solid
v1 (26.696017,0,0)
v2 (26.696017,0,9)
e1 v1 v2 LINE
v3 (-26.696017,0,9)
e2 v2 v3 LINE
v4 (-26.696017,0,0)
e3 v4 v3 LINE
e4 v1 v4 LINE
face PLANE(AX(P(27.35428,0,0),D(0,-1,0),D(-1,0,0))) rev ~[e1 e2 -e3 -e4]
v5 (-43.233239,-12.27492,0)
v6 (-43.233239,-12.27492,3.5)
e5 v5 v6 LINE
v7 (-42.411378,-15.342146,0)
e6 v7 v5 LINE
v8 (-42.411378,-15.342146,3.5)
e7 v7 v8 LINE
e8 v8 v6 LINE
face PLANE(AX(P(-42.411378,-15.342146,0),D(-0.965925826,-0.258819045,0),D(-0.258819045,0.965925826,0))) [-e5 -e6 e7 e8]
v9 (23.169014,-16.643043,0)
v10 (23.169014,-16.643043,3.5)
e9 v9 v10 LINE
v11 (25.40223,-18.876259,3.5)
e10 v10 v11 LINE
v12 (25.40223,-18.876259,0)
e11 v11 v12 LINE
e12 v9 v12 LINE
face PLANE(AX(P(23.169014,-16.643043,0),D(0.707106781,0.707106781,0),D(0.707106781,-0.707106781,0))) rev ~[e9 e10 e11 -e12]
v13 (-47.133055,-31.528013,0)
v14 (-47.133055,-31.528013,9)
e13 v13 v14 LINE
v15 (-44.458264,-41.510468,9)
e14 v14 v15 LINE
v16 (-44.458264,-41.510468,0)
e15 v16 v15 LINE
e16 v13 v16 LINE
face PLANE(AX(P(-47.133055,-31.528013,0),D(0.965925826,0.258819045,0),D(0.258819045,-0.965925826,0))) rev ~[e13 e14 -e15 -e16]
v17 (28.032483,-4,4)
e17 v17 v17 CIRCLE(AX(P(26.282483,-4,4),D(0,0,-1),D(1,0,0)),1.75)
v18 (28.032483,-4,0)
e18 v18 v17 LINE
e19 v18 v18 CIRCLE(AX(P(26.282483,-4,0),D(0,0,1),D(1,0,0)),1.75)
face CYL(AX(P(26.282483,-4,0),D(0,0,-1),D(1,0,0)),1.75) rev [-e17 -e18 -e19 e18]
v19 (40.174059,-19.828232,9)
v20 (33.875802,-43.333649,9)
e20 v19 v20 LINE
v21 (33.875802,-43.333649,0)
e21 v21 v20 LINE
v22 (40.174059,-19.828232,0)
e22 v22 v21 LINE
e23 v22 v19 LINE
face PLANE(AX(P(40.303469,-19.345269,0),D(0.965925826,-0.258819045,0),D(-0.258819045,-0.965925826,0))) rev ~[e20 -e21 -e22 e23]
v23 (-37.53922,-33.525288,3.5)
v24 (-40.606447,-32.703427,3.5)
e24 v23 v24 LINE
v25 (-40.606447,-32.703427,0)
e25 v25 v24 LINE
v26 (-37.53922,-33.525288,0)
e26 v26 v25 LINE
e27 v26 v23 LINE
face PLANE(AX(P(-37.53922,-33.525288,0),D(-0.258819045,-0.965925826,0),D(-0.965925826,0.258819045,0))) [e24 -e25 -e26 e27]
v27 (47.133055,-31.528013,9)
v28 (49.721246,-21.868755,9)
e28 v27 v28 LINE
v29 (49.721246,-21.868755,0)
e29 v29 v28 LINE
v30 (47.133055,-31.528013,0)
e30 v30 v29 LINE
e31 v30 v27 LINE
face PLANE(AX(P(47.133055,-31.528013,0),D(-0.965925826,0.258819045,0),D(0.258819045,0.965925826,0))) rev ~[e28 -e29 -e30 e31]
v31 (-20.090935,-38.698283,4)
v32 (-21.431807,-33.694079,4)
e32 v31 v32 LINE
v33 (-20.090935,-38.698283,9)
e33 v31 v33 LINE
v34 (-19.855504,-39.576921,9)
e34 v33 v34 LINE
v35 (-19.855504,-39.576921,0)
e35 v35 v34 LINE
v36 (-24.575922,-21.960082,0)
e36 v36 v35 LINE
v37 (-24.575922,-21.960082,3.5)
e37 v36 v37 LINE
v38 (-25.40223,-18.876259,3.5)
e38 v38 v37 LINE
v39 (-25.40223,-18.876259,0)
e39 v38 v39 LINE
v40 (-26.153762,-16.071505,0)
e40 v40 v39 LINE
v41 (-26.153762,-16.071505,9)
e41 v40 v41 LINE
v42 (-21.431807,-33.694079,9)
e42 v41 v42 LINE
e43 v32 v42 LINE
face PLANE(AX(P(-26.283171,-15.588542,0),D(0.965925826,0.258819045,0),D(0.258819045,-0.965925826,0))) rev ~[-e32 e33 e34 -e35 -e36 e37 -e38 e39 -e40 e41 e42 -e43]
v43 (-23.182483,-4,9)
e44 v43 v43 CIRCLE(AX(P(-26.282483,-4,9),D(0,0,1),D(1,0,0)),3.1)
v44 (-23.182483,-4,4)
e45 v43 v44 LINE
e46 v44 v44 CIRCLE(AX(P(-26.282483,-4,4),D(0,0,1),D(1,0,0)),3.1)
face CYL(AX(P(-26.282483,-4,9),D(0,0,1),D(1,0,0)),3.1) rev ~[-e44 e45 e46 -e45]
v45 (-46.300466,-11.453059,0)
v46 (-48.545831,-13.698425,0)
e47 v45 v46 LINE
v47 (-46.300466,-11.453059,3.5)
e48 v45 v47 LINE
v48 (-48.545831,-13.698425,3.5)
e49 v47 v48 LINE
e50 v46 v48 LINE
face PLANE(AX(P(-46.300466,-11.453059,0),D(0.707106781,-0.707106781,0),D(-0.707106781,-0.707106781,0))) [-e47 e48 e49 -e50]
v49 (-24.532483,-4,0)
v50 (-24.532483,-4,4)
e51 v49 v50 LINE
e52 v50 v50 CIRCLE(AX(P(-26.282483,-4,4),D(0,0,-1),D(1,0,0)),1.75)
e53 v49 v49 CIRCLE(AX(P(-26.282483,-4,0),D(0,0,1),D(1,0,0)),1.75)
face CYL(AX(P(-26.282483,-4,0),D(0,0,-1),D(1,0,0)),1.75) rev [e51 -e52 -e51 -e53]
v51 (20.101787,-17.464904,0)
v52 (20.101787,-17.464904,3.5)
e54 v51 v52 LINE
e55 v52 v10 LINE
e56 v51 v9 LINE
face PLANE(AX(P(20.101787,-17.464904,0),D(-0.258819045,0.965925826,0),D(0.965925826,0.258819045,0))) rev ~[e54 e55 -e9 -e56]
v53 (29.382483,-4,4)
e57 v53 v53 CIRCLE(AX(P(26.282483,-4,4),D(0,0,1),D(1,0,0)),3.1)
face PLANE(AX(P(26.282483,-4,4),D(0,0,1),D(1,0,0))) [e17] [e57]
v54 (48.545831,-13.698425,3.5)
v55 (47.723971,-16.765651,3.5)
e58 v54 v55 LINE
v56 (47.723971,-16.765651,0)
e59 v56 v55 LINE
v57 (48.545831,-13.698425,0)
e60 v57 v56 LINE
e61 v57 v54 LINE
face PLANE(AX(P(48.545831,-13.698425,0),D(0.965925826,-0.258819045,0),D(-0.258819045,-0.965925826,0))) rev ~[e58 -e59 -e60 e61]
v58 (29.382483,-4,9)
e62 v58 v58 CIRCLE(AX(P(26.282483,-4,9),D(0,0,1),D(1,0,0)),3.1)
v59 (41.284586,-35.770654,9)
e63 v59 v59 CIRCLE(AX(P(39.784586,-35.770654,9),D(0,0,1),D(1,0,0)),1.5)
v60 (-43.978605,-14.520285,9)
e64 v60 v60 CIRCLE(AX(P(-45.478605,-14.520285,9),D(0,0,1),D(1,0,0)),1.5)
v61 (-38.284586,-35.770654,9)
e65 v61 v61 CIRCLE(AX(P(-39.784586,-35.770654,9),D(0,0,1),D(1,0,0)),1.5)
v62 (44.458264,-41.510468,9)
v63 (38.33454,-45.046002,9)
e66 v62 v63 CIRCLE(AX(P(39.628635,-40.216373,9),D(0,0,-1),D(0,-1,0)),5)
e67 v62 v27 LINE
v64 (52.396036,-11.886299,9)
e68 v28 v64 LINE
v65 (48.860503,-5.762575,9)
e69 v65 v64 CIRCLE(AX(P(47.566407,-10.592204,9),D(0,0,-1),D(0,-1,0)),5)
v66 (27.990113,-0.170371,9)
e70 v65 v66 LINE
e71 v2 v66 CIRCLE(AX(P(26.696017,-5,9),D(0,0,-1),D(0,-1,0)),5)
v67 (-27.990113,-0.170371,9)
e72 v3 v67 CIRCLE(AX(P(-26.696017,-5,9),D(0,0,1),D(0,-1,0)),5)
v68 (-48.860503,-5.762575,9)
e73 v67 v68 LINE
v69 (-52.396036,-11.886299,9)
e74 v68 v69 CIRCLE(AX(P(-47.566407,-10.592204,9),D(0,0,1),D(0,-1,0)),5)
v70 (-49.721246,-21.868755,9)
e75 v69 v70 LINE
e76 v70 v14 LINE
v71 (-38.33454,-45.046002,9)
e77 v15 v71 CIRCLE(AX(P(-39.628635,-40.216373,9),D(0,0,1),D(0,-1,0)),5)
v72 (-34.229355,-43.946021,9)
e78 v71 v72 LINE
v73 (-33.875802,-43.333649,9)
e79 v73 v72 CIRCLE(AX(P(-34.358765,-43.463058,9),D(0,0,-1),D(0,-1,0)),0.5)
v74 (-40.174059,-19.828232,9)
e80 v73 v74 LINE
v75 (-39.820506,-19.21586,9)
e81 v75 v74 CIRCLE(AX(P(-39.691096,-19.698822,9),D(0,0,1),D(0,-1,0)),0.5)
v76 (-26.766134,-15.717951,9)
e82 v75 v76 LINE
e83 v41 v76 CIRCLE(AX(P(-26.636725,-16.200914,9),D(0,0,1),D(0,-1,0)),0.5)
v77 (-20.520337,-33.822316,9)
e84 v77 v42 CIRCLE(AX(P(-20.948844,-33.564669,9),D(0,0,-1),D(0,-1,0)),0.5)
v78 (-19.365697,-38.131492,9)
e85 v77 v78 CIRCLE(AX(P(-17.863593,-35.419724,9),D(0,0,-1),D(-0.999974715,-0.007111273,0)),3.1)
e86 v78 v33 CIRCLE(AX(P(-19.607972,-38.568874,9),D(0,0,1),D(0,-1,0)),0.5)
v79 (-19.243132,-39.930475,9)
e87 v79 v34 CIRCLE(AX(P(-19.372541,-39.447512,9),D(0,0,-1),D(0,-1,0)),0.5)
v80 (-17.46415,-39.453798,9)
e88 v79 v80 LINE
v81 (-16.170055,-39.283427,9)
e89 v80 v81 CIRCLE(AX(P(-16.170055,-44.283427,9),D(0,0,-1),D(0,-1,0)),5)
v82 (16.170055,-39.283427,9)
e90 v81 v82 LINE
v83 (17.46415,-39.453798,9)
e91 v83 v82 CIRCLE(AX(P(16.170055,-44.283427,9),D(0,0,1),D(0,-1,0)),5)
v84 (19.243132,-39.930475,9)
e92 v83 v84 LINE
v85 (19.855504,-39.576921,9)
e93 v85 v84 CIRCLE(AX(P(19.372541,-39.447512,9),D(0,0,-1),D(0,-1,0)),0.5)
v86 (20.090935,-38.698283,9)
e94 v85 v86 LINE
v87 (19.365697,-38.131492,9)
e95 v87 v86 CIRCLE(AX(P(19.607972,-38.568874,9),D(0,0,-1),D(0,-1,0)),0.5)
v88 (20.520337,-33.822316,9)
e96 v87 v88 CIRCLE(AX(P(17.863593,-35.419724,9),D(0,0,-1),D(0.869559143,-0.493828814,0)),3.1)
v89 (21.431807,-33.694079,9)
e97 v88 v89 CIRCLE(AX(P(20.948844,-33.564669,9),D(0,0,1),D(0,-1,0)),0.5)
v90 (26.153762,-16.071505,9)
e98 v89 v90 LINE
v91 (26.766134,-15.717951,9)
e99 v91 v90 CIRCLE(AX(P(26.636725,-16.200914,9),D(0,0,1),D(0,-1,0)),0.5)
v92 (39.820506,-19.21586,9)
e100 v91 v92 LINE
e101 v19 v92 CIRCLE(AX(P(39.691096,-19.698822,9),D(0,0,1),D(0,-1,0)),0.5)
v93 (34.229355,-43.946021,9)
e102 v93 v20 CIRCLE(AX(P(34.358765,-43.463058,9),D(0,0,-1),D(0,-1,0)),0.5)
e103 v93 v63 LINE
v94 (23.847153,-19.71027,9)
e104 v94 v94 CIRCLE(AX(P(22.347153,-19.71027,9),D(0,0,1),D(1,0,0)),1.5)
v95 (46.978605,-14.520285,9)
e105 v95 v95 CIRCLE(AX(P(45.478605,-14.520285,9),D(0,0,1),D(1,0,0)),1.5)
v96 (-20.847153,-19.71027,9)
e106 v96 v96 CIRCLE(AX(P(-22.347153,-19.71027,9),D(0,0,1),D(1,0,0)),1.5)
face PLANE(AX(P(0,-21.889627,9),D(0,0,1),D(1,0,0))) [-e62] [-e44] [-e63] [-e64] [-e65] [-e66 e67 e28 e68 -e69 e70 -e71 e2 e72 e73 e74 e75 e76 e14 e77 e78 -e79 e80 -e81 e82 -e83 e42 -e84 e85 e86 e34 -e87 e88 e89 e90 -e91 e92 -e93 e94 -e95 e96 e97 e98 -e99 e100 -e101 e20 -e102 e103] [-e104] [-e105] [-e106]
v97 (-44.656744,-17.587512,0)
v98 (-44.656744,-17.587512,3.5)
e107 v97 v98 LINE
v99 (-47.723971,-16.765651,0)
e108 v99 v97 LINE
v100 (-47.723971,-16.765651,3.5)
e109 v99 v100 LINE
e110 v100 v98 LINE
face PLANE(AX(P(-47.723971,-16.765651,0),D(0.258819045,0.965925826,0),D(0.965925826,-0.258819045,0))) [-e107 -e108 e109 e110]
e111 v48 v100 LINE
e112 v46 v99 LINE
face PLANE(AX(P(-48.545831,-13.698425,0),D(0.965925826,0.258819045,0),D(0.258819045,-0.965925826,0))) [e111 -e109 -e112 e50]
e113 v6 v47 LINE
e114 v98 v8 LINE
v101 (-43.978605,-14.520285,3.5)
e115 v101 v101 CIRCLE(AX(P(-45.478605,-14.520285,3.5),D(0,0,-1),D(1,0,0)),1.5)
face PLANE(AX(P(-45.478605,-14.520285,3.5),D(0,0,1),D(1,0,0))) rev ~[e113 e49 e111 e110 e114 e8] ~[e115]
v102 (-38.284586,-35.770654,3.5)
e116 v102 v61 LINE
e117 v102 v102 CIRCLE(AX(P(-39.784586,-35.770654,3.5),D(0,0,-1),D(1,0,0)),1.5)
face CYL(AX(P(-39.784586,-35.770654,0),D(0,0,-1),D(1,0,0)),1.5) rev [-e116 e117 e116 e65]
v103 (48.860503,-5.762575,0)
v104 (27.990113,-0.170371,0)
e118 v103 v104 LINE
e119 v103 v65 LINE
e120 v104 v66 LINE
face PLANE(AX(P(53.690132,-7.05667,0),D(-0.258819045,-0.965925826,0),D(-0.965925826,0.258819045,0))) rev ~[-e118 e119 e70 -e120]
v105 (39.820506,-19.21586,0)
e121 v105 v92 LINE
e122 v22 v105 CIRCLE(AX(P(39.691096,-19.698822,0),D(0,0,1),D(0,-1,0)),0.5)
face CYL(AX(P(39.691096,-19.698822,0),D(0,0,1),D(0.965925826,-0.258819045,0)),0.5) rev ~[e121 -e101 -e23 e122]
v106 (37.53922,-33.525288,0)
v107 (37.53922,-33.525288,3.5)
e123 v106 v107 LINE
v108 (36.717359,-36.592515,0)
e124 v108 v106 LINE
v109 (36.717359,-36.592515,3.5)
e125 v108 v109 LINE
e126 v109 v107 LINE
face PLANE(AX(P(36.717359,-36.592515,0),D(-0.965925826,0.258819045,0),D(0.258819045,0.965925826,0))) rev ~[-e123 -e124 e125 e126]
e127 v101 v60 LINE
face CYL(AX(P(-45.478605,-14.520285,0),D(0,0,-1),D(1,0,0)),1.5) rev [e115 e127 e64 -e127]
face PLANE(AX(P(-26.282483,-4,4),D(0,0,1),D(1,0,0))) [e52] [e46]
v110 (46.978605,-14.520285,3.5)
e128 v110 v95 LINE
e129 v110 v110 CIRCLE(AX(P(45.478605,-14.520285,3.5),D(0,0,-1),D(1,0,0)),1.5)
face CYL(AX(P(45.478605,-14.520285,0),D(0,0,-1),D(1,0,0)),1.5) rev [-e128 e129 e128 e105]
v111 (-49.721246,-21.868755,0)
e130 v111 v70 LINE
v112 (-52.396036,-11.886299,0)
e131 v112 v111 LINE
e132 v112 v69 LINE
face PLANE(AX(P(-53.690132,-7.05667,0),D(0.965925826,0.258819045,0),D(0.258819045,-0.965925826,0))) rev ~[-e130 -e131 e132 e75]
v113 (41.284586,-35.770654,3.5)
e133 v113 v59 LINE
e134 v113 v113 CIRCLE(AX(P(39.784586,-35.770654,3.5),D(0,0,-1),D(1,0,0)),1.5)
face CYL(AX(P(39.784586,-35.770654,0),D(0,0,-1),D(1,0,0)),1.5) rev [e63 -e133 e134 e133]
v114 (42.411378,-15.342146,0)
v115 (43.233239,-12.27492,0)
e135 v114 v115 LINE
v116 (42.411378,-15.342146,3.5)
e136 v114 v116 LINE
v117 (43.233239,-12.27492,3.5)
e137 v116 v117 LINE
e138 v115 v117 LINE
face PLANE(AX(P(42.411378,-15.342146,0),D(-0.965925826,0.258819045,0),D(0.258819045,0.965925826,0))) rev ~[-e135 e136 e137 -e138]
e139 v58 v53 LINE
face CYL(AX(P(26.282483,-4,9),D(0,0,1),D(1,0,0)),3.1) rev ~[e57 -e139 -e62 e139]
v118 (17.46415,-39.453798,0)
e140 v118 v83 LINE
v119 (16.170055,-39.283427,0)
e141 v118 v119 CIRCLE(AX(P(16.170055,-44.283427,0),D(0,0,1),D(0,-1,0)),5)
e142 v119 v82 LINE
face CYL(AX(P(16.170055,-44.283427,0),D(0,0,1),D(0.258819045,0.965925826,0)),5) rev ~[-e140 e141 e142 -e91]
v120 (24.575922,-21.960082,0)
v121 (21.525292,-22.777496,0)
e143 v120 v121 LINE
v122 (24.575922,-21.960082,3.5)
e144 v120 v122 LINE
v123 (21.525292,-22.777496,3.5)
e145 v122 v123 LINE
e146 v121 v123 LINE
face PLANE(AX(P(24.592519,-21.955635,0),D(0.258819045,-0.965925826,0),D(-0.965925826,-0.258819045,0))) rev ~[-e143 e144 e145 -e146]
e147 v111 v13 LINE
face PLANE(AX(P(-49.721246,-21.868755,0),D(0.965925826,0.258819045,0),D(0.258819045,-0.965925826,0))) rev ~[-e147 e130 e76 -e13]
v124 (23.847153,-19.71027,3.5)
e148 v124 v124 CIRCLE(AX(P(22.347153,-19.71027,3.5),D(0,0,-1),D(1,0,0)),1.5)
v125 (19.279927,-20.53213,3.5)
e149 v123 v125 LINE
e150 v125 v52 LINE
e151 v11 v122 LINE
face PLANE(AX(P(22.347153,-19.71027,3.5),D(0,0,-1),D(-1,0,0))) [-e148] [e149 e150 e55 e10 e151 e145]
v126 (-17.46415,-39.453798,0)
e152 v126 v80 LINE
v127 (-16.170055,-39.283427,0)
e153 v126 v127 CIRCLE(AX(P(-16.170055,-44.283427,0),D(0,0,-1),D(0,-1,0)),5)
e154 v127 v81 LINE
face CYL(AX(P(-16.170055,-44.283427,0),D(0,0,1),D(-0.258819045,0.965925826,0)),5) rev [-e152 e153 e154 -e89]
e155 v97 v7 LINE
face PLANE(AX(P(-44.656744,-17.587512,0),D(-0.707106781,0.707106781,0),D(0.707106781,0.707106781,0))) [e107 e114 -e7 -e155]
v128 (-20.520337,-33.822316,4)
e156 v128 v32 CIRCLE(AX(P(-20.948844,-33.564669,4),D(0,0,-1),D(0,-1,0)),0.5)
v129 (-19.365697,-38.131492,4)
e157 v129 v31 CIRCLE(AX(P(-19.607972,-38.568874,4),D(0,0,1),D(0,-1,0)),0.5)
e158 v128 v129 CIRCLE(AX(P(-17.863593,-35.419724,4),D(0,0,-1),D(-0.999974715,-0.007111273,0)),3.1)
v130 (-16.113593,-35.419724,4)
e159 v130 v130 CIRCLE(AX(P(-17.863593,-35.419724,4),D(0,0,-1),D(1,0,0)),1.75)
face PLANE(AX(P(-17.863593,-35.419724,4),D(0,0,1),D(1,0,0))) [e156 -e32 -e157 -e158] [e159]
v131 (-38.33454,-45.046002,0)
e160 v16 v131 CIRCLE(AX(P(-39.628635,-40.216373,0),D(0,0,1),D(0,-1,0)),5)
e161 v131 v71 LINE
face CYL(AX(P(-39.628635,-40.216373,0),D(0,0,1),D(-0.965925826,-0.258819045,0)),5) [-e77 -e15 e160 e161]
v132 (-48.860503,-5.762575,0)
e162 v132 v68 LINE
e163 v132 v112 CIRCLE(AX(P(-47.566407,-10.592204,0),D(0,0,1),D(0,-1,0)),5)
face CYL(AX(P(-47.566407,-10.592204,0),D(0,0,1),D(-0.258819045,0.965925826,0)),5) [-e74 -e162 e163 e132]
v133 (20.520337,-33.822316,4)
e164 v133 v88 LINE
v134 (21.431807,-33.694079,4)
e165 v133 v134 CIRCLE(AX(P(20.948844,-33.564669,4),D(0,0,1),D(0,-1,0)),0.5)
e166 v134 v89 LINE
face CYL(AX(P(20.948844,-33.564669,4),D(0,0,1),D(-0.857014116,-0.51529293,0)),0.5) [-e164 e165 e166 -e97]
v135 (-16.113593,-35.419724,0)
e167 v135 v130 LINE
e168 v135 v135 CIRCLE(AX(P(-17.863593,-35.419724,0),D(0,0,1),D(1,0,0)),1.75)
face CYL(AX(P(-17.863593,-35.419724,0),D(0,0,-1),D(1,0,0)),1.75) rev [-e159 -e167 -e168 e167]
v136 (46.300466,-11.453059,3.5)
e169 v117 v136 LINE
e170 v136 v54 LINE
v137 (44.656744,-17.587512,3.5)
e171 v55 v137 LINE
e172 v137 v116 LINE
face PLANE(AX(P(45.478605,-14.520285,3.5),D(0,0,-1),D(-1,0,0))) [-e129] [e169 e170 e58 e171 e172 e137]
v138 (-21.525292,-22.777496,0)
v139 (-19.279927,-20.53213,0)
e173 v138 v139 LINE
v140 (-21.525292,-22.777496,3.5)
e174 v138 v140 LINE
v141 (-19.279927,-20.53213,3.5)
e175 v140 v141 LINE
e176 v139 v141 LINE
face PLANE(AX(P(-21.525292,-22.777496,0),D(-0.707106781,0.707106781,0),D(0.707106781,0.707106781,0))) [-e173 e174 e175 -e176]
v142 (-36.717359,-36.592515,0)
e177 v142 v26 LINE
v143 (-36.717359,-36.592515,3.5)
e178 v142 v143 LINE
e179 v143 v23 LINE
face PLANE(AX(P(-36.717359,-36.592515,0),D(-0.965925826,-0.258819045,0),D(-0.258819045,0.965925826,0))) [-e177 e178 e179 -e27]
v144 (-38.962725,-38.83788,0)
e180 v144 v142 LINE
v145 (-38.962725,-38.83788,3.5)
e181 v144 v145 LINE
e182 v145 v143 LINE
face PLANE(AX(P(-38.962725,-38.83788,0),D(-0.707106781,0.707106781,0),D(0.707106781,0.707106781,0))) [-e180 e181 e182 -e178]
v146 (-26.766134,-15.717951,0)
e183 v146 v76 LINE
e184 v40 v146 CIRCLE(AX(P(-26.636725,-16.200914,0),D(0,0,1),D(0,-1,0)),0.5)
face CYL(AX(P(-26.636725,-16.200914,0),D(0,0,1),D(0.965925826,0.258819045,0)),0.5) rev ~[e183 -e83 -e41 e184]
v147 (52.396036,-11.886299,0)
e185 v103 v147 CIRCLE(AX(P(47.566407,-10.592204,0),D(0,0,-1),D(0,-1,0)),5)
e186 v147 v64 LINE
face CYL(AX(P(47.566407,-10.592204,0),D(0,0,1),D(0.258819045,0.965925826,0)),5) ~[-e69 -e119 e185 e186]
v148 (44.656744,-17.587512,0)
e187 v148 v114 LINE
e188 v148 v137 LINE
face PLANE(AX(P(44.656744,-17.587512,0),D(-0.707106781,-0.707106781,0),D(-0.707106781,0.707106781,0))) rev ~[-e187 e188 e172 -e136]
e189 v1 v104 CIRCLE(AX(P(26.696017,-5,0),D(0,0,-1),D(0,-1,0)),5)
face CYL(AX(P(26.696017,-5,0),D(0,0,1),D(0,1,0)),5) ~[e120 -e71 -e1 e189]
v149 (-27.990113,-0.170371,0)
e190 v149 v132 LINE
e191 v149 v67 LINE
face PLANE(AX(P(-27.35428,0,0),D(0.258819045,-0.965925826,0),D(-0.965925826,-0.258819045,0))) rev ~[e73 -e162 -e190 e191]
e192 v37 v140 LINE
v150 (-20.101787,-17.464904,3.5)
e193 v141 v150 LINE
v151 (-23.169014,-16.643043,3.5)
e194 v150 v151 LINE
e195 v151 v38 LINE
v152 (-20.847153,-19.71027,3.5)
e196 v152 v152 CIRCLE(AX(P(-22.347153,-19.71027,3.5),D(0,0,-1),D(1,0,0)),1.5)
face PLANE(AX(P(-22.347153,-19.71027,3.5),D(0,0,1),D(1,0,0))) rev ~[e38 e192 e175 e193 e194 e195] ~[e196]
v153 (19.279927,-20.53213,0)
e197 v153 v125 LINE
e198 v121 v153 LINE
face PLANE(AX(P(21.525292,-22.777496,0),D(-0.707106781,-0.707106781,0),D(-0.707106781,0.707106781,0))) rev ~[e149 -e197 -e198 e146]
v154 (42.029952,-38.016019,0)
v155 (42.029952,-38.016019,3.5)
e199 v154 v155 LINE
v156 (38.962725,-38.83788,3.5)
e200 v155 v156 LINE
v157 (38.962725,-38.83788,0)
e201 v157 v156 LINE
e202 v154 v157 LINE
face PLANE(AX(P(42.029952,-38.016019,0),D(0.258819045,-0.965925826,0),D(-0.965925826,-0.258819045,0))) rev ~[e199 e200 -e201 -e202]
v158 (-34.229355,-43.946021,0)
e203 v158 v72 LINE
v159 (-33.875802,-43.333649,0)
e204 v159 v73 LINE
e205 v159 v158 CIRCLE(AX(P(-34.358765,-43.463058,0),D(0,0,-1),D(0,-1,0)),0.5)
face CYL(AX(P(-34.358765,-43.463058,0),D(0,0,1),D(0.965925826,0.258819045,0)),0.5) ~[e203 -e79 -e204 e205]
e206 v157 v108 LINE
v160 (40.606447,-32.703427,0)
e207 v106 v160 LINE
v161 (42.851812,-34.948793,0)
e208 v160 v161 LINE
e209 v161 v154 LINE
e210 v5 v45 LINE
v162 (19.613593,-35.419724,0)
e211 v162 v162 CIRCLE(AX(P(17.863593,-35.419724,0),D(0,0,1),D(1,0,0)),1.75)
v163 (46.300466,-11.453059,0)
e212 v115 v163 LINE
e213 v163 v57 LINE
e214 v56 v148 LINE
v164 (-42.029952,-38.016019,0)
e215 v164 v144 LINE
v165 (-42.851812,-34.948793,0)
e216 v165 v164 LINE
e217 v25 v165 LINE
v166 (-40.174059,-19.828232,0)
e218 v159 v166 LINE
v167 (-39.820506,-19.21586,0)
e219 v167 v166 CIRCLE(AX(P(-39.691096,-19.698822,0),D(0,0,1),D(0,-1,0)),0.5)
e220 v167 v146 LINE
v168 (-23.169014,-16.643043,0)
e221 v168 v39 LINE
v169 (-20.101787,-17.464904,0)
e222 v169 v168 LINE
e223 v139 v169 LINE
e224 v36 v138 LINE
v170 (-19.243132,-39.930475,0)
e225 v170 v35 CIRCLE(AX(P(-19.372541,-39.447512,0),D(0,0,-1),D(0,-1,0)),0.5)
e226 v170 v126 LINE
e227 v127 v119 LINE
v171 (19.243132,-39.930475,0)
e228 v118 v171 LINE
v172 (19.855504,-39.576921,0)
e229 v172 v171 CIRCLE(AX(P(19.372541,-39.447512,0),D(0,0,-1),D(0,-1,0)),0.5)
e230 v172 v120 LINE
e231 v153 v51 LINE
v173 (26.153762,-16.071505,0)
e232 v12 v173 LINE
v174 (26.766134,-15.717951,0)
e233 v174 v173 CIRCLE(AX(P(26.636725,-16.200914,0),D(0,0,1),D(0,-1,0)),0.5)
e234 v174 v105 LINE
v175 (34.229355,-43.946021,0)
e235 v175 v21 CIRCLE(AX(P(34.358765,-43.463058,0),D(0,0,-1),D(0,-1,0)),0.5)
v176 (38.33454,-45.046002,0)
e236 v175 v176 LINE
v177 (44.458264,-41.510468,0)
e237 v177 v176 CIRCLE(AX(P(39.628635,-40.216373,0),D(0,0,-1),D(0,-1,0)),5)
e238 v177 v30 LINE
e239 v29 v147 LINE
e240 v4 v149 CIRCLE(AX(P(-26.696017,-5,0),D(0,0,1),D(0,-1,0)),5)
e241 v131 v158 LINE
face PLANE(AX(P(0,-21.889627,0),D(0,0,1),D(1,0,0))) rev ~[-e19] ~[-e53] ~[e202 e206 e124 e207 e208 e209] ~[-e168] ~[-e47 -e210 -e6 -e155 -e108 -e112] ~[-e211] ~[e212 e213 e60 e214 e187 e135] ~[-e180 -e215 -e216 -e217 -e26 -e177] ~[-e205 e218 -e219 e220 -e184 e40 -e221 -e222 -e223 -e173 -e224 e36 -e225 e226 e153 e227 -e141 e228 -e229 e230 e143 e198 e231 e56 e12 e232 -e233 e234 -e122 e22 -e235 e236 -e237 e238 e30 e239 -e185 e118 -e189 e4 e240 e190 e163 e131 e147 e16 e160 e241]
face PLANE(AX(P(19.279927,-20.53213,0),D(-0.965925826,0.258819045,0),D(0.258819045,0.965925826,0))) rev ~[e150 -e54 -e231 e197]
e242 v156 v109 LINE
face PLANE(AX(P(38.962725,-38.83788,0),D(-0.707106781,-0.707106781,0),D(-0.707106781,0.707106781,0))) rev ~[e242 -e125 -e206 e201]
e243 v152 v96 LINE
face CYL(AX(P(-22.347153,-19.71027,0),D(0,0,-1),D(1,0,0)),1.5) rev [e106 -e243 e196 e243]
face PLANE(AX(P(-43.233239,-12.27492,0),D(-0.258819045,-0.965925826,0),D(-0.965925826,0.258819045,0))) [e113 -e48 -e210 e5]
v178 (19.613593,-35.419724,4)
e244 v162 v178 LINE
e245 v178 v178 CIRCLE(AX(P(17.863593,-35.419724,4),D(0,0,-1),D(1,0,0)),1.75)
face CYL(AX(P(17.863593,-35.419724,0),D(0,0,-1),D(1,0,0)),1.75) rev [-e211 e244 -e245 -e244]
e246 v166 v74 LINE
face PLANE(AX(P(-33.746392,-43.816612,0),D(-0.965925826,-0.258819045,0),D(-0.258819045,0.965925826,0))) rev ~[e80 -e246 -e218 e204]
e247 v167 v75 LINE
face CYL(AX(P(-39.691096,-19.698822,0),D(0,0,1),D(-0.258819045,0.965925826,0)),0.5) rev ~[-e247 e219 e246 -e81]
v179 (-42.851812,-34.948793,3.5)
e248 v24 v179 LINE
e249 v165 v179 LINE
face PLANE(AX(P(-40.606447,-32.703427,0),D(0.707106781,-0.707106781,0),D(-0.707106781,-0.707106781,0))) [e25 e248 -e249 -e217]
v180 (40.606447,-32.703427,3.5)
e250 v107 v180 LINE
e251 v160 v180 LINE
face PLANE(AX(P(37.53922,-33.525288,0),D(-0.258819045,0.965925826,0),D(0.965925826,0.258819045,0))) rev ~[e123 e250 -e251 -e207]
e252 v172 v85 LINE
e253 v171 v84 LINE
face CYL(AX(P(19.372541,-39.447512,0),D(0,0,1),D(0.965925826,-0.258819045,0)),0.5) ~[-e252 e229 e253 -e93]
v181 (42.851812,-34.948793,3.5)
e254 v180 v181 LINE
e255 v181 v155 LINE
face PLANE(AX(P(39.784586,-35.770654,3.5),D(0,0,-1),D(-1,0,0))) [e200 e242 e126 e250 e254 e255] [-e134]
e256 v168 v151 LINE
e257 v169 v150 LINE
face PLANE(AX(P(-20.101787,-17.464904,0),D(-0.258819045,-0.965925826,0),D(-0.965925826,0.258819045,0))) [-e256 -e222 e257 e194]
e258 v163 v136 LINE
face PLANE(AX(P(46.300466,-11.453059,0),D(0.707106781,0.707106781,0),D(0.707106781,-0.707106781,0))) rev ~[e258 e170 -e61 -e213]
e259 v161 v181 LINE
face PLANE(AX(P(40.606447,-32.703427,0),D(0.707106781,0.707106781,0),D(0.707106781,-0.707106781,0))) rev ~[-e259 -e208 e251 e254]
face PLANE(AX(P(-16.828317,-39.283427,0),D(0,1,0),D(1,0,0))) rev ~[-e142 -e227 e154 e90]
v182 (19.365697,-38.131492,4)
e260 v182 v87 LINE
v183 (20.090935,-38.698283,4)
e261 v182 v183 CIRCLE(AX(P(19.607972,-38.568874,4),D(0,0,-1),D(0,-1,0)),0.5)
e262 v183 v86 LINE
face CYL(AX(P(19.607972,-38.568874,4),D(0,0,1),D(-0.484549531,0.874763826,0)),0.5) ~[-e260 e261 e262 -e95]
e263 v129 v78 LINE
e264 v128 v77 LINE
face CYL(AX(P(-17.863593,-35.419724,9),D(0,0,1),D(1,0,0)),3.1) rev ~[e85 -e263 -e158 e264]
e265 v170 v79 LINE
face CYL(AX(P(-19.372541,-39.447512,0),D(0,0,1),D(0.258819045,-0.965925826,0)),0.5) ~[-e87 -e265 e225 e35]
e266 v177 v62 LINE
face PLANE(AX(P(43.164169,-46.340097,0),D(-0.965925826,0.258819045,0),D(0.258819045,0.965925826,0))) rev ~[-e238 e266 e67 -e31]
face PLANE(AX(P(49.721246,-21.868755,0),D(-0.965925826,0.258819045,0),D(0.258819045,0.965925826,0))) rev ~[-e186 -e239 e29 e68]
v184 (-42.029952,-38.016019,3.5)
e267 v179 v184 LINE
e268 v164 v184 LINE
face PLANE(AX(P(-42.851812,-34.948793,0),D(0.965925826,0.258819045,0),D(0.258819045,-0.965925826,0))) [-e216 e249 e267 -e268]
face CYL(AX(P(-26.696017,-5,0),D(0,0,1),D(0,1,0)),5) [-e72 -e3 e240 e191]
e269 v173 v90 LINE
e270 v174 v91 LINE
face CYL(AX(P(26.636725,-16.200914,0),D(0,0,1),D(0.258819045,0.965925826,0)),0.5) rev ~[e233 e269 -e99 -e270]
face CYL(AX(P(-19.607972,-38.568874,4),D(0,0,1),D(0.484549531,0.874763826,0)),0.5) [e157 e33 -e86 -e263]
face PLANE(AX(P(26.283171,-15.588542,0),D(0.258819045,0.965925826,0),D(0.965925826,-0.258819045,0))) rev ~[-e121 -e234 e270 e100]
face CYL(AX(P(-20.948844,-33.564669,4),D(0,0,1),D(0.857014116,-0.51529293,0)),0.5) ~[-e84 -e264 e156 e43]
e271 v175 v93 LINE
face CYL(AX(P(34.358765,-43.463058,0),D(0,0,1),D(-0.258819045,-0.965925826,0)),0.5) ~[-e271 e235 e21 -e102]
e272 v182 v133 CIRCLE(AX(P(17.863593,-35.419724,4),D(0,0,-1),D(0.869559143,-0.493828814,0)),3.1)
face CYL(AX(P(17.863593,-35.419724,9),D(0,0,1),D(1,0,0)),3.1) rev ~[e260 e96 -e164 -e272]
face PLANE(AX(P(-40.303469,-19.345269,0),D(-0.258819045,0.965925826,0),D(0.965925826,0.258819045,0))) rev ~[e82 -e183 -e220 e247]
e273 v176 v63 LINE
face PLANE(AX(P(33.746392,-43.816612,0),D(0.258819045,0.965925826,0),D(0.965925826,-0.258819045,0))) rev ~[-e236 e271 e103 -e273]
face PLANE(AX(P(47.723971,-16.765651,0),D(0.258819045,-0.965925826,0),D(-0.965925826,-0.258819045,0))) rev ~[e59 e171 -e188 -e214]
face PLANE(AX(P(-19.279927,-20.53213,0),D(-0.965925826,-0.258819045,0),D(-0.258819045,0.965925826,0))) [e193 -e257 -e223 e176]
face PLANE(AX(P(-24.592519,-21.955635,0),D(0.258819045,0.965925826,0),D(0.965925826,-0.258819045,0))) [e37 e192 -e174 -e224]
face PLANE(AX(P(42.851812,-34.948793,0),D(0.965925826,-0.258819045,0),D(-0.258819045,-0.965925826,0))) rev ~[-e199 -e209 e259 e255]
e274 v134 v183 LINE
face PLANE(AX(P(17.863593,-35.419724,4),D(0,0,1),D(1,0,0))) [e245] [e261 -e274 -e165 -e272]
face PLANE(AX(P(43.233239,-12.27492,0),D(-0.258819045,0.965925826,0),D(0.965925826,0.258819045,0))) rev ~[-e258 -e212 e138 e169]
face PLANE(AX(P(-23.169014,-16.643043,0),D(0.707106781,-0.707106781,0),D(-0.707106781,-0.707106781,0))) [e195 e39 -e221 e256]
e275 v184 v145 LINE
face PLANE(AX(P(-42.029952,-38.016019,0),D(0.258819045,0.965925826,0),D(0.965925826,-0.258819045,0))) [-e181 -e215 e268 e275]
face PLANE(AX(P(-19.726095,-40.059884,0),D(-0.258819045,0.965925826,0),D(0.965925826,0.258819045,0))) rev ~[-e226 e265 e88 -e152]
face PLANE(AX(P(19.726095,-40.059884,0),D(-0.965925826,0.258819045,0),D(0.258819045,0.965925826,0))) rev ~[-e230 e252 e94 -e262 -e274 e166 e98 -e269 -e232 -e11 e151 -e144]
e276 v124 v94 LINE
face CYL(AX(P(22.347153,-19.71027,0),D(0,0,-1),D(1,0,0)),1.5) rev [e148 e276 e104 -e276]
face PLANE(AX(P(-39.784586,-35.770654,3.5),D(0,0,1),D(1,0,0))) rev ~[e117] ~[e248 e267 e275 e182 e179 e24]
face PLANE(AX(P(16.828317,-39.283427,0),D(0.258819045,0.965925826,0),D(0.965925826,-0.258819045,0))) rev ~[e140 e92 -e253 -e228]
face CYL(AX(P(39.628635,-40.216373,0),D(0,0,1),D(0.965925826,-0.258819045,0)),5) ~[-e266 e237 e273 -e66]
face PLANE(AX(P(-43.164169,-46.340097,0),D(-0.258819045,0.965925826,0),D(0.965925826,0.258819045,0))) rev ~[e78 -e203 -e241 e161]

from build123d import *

# Parameters (mm, degrees)
SKETCH_1_R          = 1.5
SKETCH_1_R_2        = 1.75
EXTRUDE_1_DEPTH     = 9
FILLET_1_R          = 5
CUT_EXTRUDE_1_DEPTH = 3.5
SKETCH_5_R          = 3.1
CUT_EXTRUDE_2_DEPTH = 5
FILLET_2_R          = 0.5


with BuildPart() as part:
    # 草图1 → 凸台-拉伸1 (new body)
    with BuildSketch(Plane.XY):
        Polygon((27.354279807, 0), (-27.354279807, 0), (-53.690131677, -7.056670241), (-49.721245605, -21.868754713), (-47.133055154, -31.528012976), (-43.164169081, -46.340097448), (-33.746392275, -43.816611758), (-40.303468798, -19.345269023), (-26.283171214, -15.588541608), (-19.72609469, -40.059884343), (-16.828317211, -39.283427207), (16.828317211, -39.283427207), (19.72609469, -40.059884343), (26.283171214, -15.588541608), (40.303468798, -19.345269023), (33.746392275, -43.816611758), (43.164169081, -46.340097448), (47.133055154, -31.528012976), (49.721245605, -21.868754713), (53.690131677, -7.056670241), align=None)
        with Locations((-39.784585925, -35.770653663)):
            Circle(SKETCH_1_R, mode=Mode.SUBTRACT)
        with Locations((-17.863593392, -35.419723902)):
            Circle(SKETCH_1_R_2, mode=Mode.SUBTRACT)
        with Locations((17.863593392, -35.419723902)):
            Circle(SKETCH_1_R_2, mode=Mode.SUBTRACT)
        with Locations((39.784585925, -35.770653663)):
            Circle(SKETCH_1_R, mode=Mode.SUBTRACT)
        with Locations((-45.478604918, -14.520285484)):
            Circle(SKETCH_1_R, mode=Mode.SUBTRACT)
        with Locations((-22.347153069, -19.710269626)):
            Circle(SKETCH_1_R, mode=Mode.SUBTRACT)
        with Locations((-26.282483038, -4)):
            Circle(SKETCH_1_R_2, mode=Mode.SUBTRACT)
        with Locations((22.347153069, -19.710269626)):
            Circle(SKETCH_1_R, mode=Mode.SUBTRACT)
        with Locations((45.478604918, -14.520285484)):
            Circle(SKETCH_1_R, mode=Mode.SUBTRACT)
        with Locations((26.282483038, -4)):
            Circle(SKETCH_1_R_2, mode=Mode.SUBTRACT)
    extrude(amount=EXTRUDE_1_DEPTH)

    # 圆角1
    fillet_1_edges = [part.edges().sort_by_distance(p)[0] for p in [
        (16.828317211, -39.283427207, 4.5),
        (-16.828317211, -39.283427207, 4.5),
        (-43.164169081, -46.340097448, 4.5),
        (-53.690131677, -7.056670241, 4.5),
        (-27.354279807, 0, 4.5),
        (27.354279807, 0, 4.5),
        (53.690131677, -7.056670241, 4.5),
        (43.164169081, -46.340097448, 4.5),
    ]]
    fillet(fillet_1_edges, radius=FILLET_1_R)

    # 草图2 → 切除-拉伸1 (cut)
    with BuildSketch(Plane(origin=(0, 0, 0), x_dir=(-1, 0, 0), z_dir=(0, 0, -1))):
        Polygon((-42.411378471, -15.342146334), (-43.23323932, -12.274919887), (-46.300465767, -11.453059037), (-48.545831365, -13.698424635), (-47.723970515, -16.765651082), (-44.656744068, -17.587511931), align=None)
        Polygon((-21.52529222, -22.777496073), (-19.279926622, -20.532130476), (-20.101787472, -17.464904029), (-23.169013919, -16.643043179), (-25.414379516, -18.888408777), (-24.592518667, -21.955635224), align=None)
        Polygon((-36.717359478, -36.592514512), (-37.539220328, -33.525288065), (-40.606446775, -32.703427216), (-42.851812372, -34.948792813), (-42.029951523, -38.01601926), (-38.962725076, -38.83788011), align=None)
        Polygon((38.962725076, -38.83788011), (36.717359478, -36.592514512), (37.539220328, -33.525288065), (40.606446775, -32.703427216), (42.851812372, -34.948792813), (42.029951523, -38.01601926), align=None)
        Polygon((24.592518667, -21.955635224), (21.52529222, -22.777496073), (19.279926622, -20.532130476), (20.101787472, -17.464904029), (23.169013919, -16.643043179), (25.414379516, -18.888408777), align=None)
        Polygon((44.656744068, -17.587511931), (42.411378471, -15.342146334), (43.23323932, -12.274919887), (46.300465767, -11.453059037), (48.545831365, -13.698424635), (47.723970515, -16.765651082), align=None)
    extrude(amount=-CUT_EXTRUDE_1_DEPTH, mode=Mode.SUBTRACT)

    # 草图5 → 切除-拉伸2 (cut)
    with BuildSketch(Plane.XY.offset(9)):
        with Locations((-26.282483038, -4)):
            Circle(SKETCH_5_R)
        with Locations((-17.863593392, -35.419723902)):
            Circle(SKETCH_5_R)
        with Locations((17.863593392, -35.419723902)):
            Circle(SKETCH_5_R)
        with Locations((26.282483038, -4)):
            Circle(SKETCH_5_R)
    extrude(amount=-CUT_EXTRUDE_2_DEPTH, mode=Mode.SUBTRACT)

    # 圆角2
    fillet_2_edges = [part.edges().sort_by_distance(p)[0] for p in [
        (-20.963515007, -35.44176885, 6.5),
        (-20.559226734, -36.950593225, 6.5),
        (20.963515007, -35.44176885, 6.5),
        (20.559226734, -36.950593225, 6.5),
        (19.72609469, -40.059884343, 4.5),
        (-19.72609469, -40.059884343, 4.5),
        (-26.283171214, -15.588541608, 4.5),
        (-40.303468798, -19.345269023, 4.5),
        (-33.746392275, -43.816611758, 4.5),
        (33.746392275, -43.816611758, 4.5),
        (40.303468798, -19.345269023, 4.5),
        (26.283171214, -15.588541608, 4.5),
    ]]
    fillet(fillet_2_edges, radius=FILLET_2_R)


solid = part.part
